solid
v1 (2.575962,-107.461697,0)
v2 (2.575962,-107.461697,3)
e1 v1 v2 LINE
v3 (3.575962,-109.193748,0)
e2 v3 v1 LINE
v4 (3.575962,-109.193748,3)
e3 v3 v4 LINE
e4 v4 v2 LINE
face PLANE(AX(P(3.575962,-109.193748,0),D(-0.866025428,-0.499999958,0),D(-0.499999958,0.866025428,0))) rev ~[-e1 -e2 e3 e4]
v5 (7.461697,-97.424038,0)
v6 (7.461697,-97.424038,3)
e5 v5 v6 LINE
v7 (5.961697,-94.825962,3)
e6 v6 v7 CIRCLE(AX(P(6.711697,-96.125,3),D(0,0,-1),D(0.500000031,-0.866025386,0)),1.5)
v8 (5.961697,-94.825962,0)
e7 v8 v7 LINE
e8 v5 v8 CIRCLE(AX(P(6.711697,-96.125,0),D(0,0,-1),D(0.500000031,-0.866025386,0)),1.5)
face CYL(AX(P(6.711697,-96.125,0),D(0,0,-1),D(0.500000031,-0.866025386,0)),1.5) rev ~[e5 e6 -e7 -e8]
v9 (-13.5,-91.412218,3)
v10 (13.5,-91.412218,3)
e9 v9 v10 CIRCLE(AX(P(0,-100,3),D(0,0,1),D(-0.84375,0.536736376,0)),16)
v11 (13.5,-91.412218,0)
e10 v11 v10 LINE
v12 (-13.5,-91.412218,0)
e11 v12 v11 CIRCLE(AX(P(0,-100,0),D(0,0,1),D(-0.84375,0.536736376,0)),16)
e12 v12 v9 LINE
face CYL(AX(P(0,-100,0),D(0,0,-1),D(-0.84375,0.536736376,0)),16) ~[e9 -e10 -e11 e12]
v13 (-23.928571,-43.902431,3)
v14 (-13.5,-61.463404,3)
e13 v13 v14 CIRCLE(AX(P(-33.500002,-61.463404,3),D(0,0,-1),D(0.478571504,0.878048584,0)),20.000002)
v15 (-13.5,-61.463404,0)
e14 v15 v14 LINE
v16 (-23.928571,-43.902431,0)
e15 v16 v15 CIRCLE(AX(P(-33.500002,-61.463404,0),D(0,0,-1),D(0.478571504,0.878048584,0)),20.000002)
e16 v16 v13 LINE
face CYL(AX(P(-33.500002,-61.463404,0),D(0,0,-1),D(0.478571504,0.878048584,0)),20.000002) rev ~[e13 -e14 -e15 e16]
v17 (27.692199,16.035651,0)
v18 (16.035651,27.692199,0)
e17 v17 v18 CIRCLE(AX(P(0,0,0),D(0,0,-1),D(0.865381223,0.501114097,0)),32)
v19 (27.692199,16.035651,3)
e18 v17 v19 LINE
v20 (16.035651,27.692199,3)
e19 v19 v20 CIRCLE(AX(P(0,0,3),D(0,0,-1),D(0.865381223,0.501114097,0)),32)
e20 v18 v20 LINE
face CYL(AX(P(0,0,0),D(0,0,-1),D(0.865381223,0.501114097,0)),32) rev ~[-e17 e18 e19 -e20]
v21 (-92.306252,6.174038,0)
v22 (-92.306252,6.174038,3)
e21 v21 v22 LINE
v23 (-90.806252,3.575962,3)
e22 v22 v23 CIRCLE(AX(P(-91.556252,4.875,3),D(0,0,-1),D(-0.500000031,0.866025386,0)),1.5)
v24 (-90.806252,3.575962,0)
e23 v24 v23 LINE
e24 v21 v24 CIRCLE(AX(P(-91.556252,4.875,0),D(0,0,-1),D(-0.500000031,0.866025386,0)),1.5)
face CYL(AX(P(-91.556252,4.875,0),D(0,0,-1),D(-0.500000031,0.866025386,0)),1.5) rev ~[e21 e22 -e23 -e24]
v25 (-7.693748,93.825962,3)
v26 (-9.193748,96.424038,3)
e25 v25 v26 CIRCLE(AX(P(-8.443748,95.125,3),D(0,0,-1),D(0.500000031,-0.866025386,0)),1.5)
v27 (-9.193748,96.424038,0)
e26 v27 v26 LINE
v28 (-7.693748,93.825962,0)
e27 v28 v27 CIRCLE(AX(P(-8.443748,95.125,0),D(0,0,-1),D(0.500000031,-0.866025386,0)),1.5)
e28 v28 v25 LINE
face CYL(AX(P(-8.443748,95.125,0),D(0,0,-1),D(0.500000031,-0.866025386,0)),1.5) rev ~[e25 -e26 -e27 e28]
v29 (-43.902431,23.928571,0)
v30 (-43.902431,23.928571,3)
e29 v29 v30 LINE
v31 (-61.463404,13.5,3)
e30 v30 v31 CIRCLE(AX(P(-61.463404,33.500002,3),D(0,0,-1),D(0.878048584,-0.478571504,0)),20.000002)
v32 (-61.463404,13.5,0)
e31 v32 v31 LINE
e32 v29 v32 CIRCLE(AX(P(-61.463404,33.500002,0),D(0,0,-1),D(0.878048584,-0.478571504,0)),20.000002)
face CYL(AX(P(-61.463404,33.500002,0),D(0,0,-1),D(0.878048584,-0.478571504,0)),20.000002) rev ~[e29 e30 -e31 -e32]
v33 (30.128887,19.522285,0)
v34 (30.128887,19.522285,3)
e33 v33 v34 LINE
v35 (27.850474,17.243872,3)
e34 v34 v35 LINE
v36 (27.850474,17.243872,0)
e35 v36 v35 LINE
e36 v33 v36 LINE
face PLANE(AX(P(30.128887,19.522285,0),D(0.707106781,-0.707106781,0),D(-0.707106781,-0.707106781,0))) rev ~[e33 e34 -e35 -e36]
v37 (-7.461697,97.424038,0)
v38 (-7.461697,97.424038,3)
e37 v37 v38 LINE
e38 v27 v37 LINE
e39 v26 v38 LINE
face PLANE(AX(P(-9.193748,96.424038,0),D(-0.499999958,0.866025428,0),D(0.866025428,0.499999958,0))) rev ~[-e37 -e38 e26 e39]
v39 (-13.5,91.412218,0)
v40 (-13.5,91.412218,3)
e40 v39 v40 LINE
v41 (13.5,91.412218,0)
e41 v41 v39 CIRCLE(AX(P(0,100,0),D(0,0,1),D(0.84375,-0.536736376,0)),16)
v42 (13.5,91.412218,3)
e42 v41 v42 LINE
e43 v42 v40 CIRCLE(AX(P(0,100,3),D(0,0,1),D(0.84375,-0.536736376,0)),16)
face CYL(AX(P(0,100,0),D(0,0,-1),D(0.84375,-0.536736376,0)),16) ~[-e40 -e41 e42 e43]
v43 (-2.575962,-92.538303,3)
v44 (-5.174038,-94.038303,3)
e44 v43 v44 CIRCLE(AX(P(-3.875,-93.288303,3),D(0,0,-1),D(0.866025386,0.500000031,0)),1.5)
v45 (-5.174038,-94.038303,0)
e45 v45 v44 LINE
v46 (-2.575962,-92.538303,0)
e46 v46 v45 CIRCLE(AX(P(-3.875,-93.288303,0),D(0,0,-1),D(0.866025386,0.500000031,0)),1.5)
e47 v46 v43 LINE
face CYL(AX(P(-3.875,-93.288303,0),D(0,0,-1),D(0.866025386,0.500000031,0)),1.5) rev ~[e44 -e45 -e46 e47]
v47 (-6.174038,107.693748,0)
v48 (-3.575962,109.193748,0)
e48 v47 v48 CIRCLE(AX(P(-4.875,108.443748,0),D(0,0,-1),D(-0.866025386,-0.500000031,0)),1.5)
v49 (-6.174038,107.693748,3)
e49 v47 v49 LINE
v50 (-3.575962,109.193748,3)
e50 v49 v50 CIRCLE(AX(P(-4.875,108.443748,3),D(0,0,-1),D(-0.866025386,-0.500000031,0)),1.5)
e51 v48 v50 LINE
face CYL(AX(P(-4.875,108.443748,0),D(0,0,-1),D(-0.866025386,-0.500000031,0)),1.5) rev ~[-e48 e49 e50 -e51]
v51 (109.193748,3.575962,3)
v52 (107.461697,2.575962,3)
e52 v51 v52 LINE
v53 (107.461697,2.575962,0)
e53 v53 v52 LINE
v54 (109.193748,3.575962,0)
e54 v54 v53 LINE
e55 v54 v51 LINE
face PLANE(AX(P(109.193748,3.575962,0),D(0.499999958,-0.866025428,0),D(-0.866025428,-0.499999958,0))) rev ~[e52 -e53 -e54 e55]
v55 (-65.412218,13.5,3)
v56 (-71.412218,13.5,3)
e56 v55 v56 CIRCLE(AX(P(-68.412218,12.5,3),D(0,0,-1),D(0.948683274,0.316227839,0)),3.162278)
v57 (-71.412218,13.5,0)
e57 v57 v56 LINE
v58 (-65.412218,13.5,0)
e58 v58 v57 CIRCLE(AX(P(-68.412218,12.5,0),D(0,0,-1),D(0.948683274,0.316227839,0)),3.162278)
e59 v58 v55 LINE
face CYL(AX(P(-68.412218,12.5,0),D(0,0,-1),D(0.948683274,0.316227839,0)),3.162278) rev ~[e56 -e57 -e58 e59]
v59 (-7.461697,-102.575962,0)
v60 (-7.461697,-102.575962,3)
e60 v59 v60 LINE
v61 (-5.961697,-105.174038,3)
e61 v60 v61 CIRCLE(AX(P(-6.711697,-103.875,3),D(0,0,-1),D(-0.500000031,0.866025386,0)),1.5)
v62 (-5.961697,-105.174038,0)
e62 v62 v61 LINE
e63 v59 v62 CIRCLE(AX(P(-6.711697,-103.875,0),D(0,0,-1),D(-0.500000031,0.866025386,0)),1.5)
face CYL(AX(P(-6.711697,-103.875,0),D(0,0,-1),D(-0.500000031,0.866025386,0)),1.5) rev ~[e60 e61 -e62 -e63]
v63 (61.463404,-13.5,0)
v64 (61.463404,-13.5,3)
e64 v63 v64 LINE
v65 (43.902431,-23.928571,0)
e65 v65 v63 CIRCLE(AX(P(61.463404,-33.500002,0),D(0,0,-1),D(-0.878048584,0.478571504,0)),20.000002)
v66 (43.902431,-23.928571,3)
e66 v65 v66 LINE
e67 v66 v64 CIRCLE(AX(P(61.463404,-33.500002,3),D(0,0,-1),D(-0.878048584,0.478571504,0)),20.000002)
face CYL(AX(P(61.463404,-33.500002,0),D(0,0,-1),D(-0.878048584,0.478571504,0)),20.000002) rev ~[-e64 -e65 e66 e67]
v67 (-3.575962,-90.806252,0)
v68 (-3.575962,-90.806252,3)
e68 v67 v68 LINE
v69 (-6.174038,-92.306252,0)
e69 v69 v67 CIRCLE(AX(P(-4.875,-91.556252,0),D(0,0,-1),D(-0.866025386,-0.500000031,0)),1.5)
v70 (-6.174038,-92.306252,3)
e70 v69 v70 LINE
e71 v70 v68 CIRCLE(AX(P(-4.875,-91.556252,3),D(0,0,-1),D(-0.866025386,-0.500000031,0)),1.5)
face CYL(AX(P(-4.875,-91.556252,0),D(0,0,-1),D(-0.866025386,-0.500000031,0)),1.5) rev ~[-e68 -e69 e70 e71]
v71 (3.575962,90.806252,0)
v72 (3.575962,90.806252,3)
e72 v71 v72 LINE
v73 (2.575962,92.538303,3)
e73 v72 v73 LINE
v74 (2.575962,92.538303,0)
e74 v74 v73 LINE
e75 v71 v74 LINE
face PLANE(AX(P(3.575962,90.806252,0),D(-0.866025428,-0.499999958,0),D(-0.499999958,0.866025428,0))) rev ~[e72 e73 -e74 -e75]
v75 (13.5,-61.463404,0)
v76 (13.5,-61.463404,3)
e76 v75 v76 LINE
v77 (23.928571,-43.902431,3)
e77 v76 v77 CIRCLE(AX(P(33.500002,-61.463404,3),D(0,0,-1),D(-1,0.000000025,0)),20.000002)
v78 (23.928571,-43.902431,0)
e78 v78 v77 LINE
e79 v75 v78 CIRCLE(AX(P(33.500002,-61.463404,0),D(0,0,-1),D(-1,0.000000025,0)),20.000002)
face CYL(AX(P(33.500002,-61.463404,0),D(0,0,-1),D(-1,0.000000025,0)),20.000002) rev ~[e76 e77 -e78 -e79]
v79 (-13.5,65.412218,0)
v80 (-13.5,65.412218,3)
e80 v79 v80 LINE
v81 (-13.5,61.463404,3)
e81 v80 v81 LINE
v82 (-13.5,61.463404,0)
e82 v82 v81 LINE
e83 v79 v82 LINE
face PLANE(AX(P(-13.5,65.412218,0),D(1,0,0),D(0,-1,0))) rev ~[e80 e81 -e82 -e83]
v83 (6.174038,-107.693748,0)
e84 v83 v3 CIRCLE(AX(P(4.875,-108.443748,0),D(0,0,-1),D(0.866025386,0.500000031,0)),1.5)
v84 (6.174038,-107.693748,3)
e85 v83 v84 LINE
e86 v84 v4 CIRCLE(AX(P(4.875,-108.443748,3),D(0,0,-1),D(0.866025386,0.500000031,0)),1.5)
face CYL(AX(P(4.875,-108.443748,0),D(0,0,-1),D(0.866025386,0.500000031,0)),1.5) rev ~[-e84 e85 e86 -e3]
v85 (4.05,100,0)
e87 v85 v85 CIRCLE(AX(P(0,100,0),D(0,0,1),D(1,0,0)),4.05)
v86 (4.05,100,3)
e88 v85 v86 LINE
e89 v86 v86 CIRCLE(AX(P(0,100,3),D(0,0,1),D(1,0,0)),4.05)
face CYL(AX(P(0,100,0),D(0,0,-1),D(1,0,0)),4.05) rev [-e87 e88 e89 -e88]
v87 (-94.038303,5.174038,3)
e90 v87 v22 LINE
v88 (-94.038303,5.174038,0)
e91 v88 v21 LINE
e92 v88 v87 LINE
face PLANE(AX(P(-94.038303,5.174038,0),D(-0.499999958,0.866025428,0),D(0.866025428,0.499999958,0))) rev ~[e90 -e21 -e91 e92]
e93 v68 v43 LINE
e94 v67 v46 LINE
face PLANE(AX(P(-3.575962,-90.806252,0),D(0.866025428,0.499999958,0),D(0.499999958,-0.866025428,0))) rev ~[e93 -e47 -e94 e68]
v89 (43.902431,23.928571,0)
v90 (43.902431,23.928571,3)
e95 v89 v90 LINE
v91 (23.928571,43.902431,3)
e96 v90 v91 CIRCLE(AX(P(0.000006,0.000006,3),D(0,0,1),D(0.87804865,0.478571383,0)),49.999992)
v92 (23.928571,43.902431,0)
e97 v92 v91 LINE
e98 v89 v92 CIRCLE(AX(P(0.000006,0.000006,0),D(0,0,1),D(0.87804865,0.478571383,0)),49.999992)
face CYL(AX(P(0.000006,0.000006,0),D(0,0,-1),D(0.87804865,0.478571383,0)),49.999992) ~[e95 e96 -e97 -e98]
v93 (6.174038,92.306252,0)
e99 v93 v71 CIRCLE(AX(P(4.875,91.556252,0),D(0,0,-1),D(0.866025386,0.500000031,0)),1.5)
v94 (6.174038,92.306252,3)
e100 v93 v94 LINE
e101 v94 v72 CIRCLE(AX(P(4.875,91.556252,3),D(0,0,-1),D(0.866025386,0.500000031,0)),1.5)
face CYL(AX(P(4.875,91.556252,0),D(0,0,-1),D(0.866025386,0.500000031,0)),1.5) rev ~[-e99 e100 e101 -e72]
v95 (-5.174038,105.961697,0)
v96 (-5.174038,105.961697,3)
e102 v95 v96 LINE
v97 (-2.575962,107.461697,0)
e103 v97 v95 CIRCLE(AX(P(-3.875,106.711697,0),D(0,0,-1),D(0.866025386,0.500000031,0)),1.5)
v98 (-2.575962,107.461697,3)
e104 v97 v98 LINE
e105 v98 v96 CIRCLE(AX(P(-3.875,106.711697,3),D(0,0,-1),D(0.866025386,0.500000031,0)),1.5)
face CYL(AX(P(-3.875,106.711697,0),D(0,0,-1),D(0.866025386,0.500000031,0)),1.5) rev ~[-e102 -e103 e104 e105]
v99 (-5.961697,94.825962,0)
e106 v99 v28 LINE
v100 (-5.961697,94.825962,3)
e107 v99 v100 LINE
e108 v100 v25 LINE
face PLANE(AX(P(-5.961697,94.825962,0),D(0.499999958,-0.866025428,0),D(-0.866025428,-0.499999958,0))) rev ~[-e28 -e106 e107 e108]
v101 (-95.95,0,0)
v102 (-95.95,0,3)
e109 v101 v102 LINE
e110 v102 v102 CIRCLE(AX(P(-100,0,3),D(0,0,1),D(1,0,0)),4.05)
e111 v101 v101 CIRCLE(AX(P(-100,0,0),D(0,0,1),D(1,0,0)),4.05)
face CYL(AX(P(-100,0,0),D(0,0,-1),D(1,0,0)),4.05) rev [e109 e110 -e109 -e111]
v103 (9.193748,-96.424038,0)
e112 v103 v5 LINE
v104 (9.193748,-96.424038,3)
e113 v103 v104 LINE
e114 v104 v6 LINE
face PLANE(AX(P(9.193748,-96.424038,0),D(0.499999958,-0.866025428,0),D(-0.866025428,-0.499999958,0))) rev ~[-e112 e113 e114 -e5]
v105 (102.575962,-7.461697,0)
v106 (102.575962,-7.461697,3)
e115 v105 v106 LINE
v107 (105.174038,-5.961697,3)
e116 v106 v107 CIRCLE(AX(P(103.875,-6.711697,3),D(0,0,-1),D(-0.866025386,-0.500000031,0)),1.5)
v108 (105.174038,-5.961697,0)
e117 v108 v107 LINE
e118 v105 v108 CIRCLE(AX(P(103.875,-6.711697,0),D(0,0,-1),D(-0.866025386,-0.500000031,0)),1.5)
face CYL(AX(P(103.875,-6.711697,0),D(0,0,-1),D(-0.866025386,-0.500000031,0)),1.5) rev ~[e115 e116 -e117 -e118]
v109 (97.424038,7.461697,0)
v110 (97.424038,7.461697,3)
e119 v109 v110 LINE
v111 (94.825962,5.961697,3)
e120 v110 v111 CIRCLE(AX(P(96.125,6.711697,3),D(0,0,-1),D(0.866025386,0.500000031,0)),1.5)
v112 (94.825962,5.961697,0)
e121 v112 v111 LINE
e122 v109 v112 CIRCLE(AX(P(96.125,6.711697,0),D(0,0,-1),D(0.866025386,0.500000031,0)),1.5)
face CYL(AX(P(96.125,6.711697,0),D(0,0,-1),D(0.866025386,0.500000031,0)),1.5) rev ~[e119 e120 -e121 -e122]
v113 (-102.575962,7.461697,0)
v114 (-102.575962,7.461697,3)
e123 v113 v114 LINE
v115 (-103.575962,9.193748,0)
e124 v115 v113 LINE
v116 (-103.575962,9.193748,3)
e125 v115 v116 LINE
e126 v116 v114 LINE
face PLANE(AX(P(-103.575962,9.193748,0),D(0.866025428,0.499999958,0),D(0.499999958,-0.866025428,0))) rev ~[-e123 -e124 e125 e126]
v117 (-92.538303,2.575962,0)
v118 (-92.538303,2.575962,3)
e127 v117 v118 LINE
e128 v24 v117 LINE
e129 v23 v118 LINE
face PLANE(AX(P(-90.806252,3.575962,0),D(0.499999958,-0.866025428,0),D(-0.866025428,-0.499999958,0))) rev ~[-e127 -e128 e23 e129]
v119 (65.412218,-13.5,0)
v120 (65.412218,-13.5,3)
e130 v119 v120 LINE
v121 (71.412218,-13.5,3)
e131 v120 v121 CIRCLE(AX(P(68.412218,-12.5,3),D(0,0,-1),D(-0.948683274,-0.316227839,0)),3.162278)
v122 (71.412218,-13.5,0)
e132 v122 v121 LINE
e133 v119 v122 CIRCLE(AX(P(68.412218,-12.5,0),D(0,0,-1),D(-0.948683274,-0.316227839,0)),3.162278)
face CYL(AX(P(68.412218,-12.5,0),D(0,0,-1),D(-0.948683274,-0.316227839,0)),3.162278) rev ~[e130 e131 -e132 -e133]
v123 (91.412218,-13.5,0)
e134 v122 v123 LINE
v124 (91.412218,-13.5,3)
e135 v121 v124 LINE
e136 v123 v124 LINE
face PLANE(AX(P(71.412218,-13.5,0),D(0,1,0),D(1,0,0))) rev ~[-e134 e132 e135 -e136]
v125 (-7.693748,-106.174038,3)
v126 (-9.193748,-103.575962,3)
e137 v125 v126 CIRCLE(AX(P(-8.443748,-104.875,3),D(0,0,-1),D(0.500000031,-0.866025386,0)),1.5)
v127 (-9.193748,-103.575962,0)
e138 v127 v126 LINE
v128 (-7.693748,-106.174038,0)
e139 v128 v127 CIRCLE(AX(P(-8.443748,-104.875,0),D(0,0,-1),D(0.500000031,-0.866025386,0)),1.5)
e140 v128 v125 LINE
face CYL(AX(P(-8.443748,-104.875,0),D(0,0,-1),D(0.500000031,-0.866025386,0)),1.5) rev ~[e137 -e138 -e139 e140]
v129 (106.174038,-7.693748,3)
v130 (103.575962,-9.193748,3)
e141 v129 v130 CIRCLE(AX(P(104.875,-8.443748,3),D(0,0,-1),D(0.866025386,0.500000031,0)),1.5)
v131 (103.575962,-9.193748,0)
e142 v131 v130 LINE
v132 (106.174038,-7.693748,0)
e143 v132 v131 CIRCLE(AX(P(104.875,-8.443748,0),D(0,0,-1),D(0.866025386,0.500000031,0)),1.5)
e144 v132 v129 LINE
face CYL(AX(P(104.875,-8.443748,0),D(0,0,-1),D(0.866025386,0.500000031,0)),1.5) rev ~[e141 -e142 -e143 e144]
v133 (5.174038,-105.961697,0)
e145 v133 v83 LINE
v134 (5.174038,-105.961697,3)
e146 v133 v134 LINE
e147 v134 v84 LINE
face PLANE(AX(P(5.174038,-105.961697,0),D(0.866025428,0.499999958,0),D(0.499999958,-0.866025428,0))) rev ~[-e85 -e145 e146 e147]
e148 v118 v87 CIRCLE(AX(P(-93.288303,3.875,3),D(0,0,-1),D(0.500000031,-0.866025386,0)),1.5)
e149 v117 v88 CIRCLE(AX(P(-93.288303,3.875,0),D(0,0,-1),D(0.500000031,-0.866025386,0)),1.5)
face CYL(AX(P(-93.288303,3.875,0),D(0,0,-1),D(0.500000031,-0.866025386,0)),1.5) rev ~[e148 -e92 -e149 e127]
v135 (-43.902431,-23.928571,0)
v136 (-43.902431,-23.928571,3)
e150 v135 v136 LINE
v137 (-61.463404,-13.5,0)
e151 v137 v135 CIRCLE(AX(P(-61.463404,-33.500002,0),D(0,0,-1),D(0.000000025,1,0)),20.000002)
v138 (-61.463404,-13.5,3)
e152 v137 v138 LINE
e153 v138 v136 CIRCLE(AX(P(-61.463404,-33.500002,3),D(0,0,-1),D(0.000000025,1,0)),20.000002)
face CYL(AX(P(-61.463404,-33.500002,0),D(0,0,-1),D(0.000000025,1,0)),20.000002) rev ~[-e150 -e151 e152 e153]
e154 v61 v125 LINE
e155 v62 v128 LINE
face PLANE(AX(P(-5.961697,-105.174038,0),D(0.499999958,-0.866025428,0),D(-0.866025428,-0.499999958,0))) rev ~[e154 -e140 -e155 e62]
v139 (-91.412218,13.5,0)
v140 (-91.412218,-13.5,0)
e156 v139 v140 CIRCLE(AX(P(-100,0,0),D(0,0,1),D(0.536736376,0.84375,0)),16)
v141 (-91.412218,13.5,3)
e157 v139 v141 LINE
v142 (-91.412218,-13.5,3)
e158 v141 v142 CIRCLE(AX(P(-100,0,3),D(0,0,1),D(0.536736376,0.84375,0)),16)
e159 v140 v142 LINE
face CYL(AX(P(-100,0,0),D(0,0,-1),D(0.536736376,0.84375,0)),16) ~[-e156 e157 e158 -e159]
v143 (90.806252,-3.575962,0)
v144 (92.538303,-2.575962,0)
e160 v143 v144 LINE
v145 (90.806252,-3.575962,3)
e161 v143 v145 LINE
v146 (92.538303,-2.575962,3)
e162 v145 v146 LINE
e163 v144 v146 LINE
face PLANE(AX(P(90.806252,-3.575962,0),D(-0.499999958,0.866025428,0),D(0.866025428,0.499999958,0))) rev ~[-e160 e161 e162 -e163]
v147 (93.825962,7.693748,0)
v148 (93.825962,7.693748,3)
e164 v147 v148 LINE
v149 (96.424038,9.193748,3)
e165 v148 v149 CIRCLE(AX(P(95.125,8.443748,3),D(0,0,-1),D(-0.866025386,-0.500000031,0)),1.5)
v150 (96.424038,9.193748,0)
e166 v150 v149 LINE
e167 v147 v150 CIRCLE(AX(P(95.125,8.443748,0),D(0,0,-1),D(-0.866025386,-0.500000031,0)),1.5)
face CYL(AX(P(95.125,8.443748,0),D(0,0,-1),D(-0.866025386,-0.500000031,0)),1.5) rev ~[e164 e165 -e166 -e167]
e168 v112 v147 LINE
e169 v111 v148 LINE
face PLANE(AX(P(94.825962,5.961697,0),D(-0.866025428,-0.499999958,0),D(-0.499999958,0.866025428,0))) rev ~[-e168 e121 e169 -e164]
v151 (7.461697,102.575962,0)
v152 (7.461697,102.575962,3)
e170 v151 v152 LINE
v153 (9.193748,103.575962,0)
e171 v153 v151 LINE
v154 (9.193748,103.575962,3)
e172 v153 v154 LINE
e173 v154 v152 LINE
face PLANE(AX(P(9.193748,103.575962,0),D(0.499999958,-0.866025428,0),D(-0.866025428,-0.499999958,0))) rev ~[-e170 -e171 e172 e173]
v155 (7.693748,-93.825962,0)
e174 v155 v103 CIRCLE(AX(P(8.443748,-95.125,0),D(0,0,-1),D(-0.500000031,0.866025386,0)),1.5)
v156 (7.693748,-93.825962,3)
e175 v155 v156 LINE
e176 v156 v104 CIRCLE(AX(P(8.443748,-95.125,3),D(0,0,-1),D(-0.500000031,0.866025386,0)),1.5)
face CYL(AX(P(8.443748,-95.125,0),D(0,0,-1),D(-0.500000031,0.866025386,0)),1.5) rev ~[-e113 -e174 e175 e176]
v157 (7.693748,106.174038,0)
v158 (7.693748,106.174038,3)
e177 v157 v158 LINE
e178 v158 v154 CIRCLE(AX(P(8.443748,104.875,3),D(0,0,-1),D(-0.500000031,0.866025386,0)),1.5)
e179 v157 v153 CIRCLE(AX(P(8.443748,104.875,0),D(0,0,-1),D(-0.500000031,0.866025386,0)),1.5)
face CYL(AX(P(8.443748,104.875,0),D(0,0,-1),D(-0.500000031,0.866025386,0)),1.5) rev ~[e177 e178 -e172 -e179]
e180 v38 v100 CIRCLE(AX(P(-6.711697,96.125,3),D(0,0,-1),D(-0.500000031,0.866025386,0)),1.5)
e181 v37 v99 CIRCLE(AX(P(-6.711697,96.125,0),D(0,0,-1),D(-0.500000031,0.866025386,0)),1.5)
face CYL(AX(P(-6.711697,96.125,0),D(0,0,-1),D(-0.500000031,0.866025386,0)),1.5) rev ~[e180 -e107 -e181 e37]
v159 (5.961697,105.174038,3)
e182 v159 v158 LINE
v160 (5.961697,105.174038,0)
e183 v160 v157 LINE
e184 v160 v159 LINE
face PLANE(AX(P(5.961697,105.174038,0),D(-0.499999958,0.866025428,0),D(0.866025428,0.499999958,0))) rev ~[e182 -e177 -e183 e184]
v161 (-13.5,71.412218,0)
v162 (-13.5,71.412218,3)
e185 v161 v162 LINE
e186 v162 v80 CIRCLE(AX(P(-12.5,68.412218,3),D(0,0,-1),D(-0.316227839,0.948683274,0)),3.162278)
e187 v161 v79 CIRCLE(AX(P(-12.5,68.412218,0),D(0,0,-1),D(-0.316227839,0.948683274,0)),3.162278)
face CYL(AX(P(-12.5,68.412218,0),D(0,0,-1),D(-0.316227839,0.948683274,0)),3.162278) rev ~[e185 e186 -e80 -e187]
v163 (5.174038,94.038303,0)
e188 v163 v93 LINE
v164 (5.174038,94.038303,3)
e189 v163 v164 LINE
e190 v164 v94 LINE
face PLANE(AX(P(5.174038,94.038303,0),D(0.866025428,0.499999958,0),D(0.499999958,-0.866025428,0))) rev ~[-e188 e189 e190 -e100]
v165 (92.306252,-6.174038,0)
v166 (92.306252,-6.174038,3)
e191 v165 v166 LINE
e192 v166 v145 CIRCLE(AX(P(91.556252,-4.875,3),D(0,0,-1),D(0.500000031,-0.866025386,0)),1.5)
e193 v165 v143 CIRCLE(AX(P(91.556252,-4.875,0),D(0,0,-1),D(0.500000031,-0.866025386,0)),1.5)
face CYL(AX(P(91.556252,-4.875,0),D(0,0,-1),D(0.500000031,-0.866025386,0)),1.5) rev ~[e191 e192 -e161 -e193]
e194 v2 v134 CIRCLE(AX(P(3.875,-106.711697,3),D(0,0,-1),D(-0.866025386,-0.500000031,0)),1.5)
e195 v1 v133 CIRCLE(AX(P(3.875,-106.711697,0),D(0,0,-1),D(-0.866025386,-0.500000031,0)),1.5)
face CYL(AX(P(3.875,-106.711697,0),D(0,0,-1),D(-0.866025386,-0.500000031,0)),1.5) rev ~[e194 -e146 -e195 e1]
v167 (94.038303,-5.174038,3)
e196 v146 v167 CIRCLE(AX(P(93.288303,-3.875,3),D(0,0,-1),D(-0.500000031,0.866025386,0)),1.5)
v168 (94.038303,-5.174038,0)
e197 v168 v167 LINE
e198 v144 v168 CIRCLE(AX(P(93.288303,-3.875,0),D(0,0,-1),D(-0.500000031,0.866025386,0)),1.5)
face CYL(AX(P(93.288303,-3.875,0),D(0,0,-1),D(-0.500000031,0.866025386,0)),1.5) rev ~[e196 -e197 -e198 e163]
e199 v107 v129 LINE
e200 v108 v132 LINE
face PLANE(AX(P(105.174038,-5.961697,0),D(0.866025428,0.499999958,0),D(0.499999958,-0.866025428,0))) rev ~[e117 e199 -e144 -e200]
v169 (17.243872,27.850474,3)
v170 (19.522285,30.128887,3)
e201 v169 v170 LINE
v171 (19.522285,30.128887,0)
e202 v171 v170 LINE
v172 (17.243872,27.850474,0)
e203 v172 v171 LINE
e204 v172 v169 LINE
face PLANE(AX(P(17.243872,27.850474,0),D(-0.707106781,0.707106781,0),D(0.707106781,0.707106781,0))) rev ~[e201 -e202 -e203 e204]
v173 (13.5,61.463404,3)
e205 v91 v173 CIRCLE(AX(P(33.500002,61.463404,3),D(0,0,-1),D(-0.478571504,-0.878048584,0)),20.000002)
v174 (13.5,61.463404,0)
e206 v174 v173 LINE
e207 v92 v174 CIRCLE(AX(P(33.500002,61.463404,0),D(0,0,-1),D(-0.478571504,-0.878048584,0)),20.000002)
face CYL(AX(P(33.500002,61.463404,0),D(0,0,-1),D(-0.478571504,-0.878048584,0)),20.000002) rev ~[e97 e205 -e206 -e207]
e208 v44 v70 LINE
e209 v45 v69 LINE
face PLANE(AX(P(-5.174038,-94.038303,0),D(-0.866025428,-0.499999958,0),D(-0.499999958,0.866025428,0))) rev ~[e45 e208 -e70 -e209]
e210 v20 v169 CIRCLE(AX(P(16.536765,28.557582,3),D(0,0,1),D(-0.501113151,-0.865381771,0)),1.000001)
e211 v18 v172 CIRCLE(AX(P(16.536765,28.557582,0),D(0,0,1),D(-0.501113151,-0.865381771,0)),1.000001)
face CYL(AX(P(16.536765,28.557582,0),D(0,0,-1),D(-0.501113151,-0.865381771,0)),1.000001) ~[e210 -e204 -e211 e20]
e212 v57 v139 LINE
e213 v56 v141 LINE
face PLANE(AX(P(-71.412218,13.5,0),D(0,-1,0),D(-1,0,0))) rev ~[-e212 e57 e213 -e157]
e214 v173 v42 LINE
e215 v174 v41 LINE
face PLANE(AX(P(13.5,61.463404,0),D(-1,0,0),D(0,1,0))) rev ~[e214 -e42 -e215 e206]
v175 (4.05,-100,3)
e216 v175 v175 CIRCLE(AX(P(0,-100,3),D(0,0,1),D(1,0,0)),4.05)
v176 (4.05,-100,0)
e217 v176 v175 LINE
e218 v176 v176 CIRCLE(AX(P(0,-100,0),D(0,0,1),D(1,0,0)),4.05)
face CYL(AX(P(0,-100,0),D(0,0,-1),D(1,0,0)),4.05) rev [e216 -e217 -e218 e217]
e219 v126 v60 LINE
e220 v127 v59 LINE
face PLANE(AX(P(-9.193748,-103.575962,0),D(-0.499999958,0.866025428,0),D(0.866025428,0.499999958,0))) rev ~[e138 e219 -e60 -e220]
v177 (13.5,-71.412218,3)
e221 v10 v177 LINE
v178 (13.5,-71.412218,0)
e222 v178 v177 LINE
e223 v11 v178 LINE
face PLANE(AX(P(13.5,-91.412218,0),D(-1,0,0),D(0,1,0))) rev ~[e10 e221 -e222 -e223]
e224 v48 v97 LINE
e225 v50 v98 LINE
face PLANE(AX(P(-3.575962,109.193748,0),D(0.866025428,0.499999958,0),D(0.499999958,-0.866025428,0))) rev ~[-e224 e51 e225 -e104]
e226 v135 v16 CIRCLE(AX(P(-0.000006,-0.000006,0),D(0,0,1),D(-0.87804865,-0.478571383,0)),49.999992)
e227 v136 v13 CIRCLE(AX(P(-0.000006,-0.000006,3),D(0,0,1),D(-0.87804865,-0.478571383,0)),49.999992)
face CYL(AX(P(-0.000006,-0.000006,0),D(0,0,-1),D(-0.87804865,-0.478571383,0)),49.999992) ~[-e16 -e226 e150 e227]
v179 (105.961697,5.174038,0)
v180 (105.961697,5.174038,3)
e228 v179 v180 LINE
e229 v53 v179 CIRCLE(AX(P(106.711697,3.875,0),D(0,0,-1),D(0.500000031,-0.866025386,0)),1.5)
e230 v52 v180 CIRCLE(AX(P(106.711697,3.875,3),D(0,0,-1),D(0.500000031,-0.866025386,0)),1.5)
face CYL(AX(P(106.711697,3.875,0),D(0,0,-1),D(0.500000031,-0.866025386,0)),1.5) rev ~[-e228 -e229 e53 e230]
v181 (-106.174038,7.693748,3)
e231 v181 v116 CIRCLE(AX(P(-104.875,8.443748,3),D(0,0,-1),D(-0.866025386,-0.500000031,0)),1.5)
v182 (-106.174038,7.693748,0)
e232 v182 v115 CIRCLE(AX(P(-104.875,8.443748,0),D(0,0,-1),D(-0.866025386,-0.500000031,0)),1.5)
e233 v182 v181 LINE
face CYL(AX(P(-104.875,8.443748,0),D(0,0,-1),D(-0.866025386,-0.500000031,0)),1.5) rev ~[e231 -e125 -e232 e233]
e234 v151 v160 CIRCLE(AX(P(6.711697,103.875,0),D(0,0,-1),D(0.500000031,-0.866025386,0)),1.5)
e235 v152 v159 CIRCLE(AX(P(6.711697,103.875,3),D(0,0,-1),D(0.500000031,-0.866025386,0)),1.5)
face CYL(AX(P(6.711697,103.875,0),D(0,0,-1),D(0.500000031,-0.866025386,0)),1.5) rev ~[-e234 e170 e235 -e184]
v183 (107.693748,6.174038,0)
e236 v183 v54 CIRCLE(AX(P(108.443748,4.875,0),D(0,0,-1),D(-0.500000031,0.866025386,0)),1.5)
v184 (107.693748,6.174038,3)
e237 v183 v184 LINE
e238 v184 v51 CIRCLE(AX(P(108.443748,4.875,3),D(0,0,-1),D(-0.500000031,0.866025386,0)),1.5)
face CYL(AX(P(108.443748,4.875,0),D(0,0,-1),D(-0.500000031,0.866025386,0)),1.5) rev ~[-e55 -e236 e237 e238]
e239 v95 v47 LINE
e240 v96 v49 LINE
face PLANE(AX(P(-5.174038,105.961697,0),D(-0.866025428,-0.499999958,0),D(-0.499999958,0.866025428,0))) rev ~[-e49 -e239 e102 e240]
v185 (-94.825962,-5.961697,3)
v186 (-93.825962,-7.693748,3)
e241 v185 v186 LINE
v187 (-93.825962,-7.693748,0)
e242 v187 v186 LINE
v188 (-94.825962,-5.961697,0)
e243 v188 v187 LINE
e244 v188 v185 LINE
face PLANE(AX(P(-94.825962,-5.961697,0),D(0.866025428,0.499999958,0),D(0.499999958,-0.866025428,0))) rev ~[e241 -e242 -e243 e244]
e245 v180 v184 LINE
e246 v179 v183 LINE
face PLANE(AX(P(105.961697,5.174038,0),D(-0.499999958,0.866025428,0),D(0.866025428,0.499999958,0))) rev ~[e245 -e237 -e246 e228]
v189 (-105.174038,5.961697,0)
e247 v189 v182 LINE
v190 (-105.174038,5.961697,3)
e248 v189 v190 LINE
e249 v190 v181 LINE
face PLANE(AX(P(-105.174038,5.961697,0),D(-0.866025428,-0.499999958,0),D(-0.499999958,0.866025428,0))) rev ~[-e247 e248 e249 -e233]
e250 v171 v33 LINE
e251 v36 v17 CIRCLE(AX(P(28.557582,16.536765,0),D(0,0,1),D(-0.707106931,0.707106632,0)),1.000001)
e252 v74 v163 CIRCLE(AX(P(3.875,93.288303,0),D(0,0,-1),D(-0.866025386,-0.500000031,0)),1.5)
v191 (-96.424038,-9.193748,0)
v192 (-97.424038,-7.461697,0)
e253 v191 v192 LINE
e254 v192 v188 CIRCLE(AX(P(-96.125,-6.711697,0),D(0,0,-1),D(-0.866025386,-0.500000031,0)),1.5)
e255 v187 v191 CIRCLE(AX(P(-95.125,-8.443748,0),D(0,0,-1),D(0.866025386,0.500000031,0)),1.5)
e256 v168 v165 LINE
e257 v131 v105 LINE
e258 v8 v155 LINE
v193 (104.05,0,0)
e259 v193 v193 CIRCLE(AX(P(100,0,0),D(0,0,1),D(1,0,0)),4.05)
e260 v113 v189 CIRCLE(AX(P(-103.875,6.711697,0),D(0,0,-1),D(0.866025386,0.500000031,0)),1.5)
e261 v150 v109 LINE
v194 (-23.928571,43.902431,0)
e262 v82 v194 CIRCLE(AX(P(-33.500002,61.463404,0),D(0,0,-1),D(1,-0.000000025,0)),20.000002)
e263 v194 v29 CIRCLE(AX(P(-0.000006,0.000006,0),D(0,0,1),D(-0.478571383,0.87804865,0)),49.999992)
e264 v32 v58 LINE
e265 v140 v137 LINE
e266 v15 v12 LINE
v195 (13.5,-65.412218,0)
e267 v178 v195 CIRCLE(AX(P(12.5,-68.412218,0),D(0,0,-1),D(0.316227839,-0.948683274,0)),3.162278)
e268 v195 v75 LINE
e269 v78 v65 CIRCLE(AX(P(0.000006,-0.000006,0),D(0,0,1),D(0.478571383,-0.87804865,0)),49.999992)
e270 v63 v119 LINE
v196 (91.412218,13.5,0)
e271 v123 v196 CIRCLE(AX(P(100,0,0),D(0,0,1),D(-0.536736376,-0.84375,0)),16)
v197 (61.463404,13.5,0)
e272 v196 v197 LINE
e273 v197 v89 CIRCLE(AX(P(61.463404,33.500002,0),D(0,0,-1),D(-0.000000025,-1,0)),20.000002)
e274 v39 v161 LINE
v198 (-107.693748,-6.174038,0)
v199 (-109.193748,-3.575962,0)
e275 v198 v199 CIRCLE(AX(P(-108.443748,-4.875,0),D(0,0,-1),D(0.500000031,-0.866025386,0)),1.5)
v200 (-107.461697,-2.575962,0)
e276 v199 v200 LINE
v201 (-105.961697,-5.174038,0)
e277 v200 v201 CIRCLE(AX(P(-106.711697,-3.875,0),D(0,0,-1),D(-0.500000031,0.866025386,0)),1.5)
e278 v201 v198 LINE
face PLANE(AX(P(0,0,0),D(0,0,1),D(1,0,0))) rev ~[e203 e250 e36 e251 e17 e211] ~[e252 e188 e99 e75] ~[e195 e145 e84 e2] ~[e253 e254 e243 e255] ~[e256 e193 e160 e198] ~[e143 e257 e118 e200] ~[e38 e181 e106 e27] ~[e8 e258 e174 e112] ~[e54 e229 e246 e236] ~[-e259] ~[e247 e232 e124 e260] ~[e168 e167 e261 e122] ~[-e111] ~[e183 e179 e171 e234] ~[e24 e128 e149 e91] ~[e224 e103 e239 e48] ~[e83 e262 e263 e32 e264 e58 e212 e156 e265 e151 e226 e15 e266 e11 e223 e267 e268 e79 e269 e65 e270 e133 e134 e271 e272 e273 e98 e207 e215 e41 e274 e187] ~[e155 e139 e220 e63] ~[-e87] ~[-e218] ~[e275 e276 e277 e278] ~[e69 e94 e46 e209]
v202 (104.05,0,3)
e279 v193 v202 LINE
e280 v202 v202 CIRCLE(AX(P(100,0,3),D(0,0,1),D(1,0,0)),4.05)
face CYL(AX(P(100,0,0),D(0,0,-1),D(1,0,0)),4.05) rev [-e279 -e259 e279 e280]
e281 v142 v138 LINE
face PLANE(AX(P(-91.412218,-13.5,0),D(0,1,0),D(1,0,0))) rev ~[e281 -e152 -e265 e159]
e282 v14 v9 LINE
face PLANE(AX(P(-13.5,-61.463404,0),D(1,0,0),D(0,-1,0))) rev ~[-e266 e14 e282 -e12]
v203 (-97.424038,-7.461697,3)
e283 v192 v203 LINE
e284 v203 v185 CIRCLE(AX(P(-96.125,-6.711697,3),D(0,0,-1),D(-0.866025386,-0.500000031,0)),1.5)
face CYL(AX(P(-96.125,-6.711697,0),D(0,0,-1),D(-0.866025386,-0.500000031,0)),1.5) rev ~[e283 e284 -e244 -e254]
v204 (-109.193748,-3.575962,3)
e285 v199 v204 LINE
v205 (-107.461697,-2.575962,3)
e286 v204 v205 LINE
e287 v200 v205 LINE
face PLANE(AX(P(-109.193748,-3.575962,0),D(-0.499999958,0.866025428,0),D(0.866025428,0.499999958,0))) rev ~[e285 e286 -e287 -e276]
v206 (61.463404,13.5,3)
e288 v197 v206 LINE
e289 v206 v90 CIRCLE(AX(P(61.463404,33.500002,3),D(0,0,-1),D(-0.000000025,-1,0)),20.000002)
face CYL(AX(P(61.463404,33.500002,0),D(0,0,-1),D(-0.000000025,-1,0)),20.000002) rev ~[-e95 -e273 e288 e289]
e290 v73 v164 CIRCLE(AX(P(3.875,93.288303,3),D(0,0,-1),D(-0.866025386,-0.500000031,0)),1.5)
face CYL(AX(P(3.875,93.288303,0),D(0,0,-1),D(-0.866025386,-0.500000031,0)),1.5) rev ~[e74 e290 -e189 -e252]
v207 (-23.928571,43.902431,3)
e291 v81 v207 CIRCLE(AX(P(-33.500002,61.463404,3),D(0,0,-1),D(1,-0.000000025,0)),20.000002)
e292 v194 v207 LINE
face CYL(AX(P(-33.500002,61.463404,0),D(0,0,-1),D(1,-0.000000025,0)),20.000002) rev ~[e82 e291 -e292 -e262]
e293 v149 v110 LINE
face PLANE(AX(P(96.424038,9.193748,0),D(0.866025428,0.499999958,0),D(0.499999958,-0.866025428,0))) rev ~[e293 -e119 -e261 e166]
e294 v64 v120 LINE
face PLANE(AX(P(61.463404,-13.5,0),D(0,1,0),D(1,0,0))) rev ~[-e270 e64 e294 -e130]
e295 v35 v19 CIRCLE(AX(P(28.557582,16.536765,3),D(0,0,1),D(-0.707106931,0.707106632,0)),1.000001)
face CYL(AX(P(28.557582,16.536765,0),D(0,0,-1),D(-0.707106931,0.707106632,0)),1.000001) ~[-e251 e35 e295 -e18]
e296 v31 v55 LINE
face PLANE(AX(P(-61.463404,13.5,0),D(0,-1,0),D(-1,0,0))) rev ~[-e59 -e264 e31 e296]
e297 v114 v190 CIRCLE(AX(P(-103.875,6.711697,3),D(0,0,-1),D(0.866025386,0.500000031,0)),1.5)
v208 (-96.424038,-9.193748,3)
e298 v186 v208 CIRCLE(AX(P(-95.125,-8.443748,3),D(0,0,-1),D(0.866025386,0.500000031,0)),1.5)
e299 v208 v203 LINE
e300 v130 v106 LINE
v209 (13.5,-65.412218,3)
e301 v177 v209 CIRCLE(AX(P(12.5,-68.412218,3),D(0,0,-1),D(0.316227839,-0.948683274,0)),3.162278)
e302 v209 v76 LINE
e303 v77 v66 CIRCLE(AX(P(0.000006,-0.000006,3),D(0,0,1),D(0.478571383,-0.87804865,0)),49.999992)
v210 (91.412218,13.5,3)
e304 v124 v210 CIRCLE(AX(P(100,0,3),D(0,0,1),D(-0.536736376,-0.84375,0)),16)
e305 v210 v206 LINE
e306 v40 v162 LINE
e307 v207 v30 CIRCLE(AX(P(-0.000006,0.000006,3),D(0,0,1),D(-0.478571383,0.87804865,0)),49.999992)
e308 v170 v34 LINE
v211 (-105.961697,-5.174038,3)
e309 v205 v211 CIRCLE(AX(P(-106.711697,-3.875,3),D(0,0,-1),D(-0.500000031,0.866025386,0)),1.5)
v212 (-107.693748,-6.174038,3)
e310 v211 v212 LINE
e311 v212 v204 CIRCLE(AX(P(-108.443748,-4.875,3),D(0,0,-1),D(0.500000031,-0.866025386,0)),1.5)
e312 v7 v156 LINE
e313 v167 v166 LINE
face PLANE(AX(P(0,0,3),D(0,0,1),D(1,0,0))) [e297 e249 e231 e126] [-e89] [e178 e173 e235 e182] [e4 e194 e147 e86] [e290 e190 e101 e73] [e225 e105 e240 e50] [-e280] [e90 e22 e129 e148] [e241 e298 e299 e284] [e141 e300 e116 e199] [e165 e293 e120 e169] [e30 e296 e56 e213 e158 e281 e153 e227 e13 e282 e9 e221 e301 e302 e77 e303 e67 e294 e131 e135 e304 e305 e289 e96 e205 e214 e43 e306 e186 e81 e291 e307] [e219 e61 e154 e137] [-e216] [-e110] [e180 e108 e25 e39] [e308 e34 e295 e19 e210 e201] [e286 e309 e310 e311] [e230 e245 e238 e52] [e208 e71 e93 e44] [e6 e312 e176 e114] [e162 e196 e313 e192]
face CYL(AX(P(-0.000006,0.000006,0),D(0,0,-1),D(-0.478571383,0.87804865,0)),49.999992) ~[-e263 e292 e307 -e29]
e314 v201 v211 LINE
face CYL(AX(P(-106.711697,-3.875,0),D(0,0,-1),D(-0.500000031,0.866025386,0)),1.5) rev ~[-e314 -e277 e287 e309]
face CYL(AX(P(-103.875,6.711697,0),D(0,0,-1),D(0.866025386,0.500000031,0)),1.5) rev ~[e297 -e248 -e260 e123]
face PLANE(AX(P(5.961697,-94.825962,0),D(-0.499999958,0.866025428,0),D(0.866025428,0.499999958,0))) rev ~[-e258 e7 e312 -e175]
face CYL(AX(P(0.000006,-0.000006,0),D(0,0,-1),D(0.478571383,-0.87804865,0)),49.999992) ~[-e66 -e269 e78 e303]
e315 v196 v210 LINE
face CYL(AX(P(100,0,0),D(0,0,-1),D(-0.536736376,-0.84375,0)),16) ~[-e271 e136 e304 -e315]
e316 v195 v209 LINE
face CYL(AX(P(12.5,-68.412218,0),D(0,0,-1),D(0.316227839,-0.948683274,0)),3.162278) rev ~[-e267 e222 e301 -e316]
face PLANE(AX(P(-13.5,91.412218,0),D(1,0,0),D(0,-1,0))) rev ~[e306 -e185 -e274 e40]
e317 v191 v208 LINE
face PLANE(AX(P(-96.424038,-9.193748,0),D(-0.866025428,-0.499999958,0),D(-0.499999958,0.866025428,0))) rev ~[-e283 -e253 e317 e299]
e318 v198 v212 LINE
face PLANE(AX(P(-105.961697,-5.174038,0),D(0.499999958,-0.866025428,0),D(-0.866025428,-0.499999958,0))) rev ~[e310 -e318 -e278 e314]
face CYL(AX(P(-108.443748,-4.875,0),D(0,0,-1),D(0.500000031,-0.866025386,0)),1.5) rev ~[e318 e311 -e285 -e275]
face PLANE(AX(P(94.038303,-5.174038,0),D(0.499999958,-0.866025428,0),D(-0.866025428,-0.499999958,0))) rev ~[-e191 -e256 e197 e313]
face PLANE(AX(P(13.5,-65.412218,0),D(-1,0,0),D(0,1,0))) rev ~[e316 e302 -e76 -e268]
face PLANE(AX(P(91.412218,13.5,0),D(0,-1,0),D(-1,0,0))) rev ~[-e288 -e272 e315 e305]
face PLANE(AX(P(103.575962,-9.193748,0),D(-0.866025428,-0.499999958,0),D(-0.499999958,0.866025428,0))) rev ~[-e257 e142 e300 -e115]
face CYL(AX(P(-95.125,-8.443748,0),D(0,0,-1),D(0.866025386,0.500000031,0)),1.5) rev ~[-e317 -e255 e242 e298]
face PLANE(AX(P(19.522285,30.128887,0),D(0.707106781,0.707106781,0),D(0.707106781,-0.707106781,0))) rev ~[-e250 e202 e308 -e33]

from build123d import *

# Parameters (mm, degrees)
F0_R     = 4.05
F1_DEPTH = 3


with BuildPart() as f1:
    # F0 (on Top) → F1 (new body)
    with BuildSketch(Plane.XY):
        with BuildLine():
            Line((71.412218, -13.5), (91.412218, -13.5))
            ThreePointArc((91.412218, -13.5), (116, 0), (91.412218, 13.5))
            Line((91.412218, 13.5), (71.412218, 13.5))
            Line((71.412218, 13.5), (61.463404, 13.5))
            ThreePointArc((61.463404, 13.5), (51.251366, 16.303655), (43.902431, 23.928571))
            ThreePointArc((43.902431, 23.928571), (35.355339, 35.355339), (23.928571, 43.902431))
            ThreePointArc((23.928571, 43.902431), (16.303655, 51.251366), (13.5, 61.463404))
            Line((13.5, 61.463404), (13.5, 91.412218))
            ThreePointArc((13.5, 91.412218), (0, 116), (-13.5, 91.412218))
            Line((-13.5, 91.412218), (-13.5, 71.412218))
            ThreePointArc((-13.5, 71.412218), (-9.337722, 68.412218), (-13.5, 65.412218))
            Line((-13.5, 65.412218), (-13.5, 61.463404))
            ThreePointArc((-13.5, 61.463404), (-16.303655, 51.251366), (-23.928571, 43.902431))
            ThreePointArc((-23.928571, 43.902431), (-35.355339, 35.355339), (-43.902431, 23.928571))
            ThreePointArc((-43.902431, 23.928571), (-51.251366, 16.303655), (-61.463404, 13.5))
            Line((-61.463404, 13.5), (-65.412218, 13.5))
            ThreePointArc((-65.412218, 13.5), (-68.412218, 9.337722), (-71.412218, 13.5))
            Line((-71.412218, 13.5), (-91.412218, 13.5))
            ThreePointArc((-91.412218, 13.5), (-116, 0), (-91.412218, -13.5))
            Line((-91.412218, -13.5), (-71.412218, -13.5))
            Line((-71.412218, -13.5), (-65.412218, -13.5))
            Line((-65.412218, -13.5), (-61.463404, -13.5))
            ThreePointArc((-61.463404, -13.5), (-51.251366, -16.303655), (-43.902431, -23.928571))
            ThreePointArc((-43.902431, -23.928571), (-35.355339, -35.355339), (-23.928571, -43.902431))
            ThreePointArc((-23.928571, -43.902431), (-16.303655, -51.251366), (-13.5, -61.463404))
            Line((-13.5, -61.463404), (-13.5, -91.412218))
            ThreePointArc((-13.5, -91.412218), (0, -116), (13.5, -91.412218))
            Line((13.5, -91.412218), (13.5, -71.412218))
            ThreePointArc((13.5, -71.412218), (9.337722, -68.412218), (13.5, -65.412218))
            Line((13.5, -65.412218), (13.5, -61.463404))
            ThreePointArc((13.5, -61.463404), (16.303655, -51.251366), (23.928571, -43.902431))
            ThreePointArc((23.928571, -43.902431), (35.355339, -35.355339), (43.902431, -23.928571))
            ThreePointArc((43.902431, -23.928571), (51.251366, -16.303655), (61.463404, -13.5))
            Line((61.463404, -13.5), (65.412218, -13.5))
            ThreePointArc((65.412218, -13.5), (68.412218, -9.337722), (71.412218, -13.5))
        make_face()
        with BuildLine():
            Line((-9.193748, -103.575962), (-7.461697, -102.575962))
            ThreePointArc((-7.461697, -102.575962), (-5.412659, -103.125), (-5.961697, -105.174038))
            Line((-5.961697, -105.174038), (-7.693748, -106.174038))
            ThreePointArc((-7.693748, -106.174038), (-9.742786, -105.625), (-9.193748, -103.575962))
        make_face(mode=Mode.SUBTRACT)
        with BuildLine():
            ThreePointArc((-2.575962, -92.538303), (-3.125, -94.587341), (-5.174038, -94.038303))
            Line((-5.174038, -94.038303), (-6.174038, -92.306252))
            ThreePointArc((-6.174038, -92.306252), (-5.625, -90.257214), (-3.575962, -90.806252))
            Line((-3.575962, -90.806252), (-2.575962, -92.538303))
        make_face(mode=Mode.SUBTRACT)
        with BuildLine():
            Line((-109.193748, -3.575962), (-107.461697, -2.575962))
            ThreePointArc((-107.461697, -2.575962), (-105.412659, -3.125), (-105.961697, -5.174038))
            Line((-105.961697, -5.174038), (-107.693748, -6.174038))
            ThreePointArc((-107.693748, -6.174038), (-109.742786, -5.625), (-109.193748, -3.575962))
        make_face(mode=Mode.SUBTRACT)
        with BuildLine():
            Line((-96.424038, -9.193748), (-97.424038, -7.461697))
            ThreePointArc((-97.424038, -7.461697), (-96.875, -5.412659), (-94.825962, -5.961697))
            Line((-94.825962, -5.961697), (-93.825962, -7.693748))
            ThreePointArc((-93.825962, -7.693748), (-94.375, -9.742786), (-96.424038, -9.193748))
        make_face(mode=Mode.SUBTRACT)
        with BuildLine():
            Line((3.575962, -109.193748), (2.575962, -107.461697))
            ThreePointArc((2.575962, -107.461697), (3.125, -105.412659), (5.174038, -105.961697))
            Line((5.174038, -105.961697), (6.174038, -107.693748))
            ThreePointArc((6.174038, -107.693748), (5.625, -109.742786), (3.575962, -109.193748))
        make_face(mode=Mode.SUBTRACT)
        with Locations((0, -100)):
            Circle(F0_R, mode=Mode.SUBTRACT)
        with BuildLine():
            Line((9.193748, -96.424038), (7.461697, -97.424038))
            ThreePointArc((7.461697, -97.424038), (5.412659, -96.875), (5.961697, -94.825962))
            Line((5.961697, -94.825962), (7.693748, -93.825962))
            ThreePointArc((7.693748, -93.825962), (9.742786, -94.375), (9.193748, -96.424038))
        make_face(mode=Mode.SUBTRACT)
        with BuildLine():
            ThreePointArc((92.538303, -2.575962), (94.587341, -3.125), (94.038303, -5.174038))
            Line((94.038303, -5.174038), (92.306252, -6.174038))
            ThreePointArc((92.306252, -6.174038), (90.257214, -5.625), (90.806252, -3.575962))
            Line((90.806252, -3.575962), (92.538303, -2.575962))
        make_face(mode=Mode.SUBTRACT)
        with BuildLine():
            ThreePointArc((102.575962, -7.461697), (103.125, -5.412659), (105.174038, -5.961697))
            Line((105.174038, -5.961697), (106.174038, -7.693748))
            ThreePointArc((106.174038, -7.693748), (105.625, -9.742786), (103.575962, -9.193748))
            Line((103.575962, -9.193748), (102.575962, -7.461697))
        make_face(mode=Mode.SUBTRACT)
        with BuildLine():
            Line((-103.575962, 9.193748), (-102.575962, 7.461697))
            ThreePointArc((-102.575962, 7.461697), (-103.125, 5.412659), (-105.174038, 5.961697))
            Line((-105.174038, 5.961697), (-106.174038, 7.693748))
            ThreePointArc((-106.174038, 7.693748), (-105.625, 9.742786), (-103.575962, 9.193748))
        make_face(mode=Mode.SUBTRACT)
        with Locations((-100, 0)):
            Circle(F0_R, mode=Mode.SUBTRACT)
        with BuildLine():
            ThreePointArc((-92.538303, 2.575962), (-94.587341, 3.125), (-94.038303, 5.174038))
            Line((-94.038303, 5.174038), (-92.306252, 6.174038))
            ThreePointArc((-92.306252, 6.174038), (-90.257214, 5.625), (-90.806252, 3.575962))
            Line((-90.806252, 3.575962), (-92.538303, 2.575962))
        make_face(mode=Mode.SUBTRACT)
        with BuildLine():
            Line((-9.193748, 96.424038), (-7.461697, 97.424038))
            ThreePointArc((-7.461697, 97.424038), (-5.412659, 96.875), (-5.961697, 94.825962))
            Line((-5.961697, 94.825962), (-7.693748, 93.825962))
            ThreePointArc((-7.693748, 93.825962), (-9.742786, 94.375), (-9.193748, 96.424038))
        make_face(mode=Mode.SUBTRACT)
        with BuildLine():
            Line((-3.575962, 109.193748), (-2.575962, 107.461697))
            ThreePointArc((-2.575962, 107.461697), (-3.125, 105.412659), (-5.174038, 105.961697))
            Line((-5.174038, 105.961697), (-6.174038, 107.693748))
            ThreePointArc((-6.174038, 107.693748), (-5.625, 109.742786), (-3.575962, 109.193748))
        make_face(mode=Mode.SUBTRACT)
        with BuildLine():
            ThreePointArc((27.692199, 16.035651), (-22.627417, -22.627417), (16.035651, 27.692199))
            ThreePointArc((16.035651, 27.692199), (16.666653, 27.566052), (17.243872, 27.850474))
            Line((17.243872, 27.850474), (19.522285, 30.128887))
            Line((19.522285, 30.128887), (30.128887, 19.522285))
            Line((30.128887, 19.522285), (27.850474, 17.243872))
            ThreePointArc((27.850474, 17.243872), (27.566052, 16.666653), (27.692199, 16.035651))
        make_face(mode=Mode.SUBTRACT)
        with Locations((100, 0)):
            Circle(F0_R, mode=Mode.SUBTRACT)
        with BuildLine():
            Line((96.424038, 9.193748), (97.424038, 7.461697))
            ThreePointArc((97.424038, 7.461697), (96.875, 5.412659), (94.825962, 5.961697))
            Line((94.825962, 5.961697), (93.825962, 7.693748))
            ThreePointArc((93.825962, 7.693748), (94.375, 9.742786), (96.424038, 9.193748))
        make_face(mode=Mode.SUBTRACT)
        with BuildLine():
            ThreePointArc((107.461697, 2.575962), (105.412659, 3.125), (105.961697, 5.174038))
            Line((105.961697, 5.174038), (107.693748, 6.174038))
            ThreePointArc((107.693748, 6.174038), (109.742786, 5.625), (109.193748, 3.575962))
            Line((109.193748, 3.575962), (107.461697, 2.575962))
        make_face(mode=Mode.SUBTRACT)
        with BuildLine():
            ThreePointArc((2.575962, 92.538303), (3.125, 94.587341), (5.174038, 94.038303))
            Line((5.174038, 94.038303), (6.174038, 92.306252))
            ThreePointArc((6.174038, 92.306252), (5.625, 90.257214), (3.575962, 90.806252))
            Line((3.575962, 90.806252), (2.575962, 92.538303))
        make_face(mode=Mode.SUBTRACT)
        with Locations((0, 100)):
            Circle(F0_R, mode=Mode.SUBTRACT)
        with BuildLine():
            Line((9.193748, 103.575962), (7.461697, 102.575962))
            ThreePointArc((7.461697, 102.575962), (5.412659, 103.125), (5.961697, 105.174038))
            Line((5.961697, 105.174038), (7.693748, 106.174038))
            ThreePointArc((7.693748, 106.174038), (9.742786, 105.625), (9.193748, 103.575962))
        make_face(mode=Mode.SUBTRACT)
    extrude(amount=F1_DEPTH)


solid = f1.part
